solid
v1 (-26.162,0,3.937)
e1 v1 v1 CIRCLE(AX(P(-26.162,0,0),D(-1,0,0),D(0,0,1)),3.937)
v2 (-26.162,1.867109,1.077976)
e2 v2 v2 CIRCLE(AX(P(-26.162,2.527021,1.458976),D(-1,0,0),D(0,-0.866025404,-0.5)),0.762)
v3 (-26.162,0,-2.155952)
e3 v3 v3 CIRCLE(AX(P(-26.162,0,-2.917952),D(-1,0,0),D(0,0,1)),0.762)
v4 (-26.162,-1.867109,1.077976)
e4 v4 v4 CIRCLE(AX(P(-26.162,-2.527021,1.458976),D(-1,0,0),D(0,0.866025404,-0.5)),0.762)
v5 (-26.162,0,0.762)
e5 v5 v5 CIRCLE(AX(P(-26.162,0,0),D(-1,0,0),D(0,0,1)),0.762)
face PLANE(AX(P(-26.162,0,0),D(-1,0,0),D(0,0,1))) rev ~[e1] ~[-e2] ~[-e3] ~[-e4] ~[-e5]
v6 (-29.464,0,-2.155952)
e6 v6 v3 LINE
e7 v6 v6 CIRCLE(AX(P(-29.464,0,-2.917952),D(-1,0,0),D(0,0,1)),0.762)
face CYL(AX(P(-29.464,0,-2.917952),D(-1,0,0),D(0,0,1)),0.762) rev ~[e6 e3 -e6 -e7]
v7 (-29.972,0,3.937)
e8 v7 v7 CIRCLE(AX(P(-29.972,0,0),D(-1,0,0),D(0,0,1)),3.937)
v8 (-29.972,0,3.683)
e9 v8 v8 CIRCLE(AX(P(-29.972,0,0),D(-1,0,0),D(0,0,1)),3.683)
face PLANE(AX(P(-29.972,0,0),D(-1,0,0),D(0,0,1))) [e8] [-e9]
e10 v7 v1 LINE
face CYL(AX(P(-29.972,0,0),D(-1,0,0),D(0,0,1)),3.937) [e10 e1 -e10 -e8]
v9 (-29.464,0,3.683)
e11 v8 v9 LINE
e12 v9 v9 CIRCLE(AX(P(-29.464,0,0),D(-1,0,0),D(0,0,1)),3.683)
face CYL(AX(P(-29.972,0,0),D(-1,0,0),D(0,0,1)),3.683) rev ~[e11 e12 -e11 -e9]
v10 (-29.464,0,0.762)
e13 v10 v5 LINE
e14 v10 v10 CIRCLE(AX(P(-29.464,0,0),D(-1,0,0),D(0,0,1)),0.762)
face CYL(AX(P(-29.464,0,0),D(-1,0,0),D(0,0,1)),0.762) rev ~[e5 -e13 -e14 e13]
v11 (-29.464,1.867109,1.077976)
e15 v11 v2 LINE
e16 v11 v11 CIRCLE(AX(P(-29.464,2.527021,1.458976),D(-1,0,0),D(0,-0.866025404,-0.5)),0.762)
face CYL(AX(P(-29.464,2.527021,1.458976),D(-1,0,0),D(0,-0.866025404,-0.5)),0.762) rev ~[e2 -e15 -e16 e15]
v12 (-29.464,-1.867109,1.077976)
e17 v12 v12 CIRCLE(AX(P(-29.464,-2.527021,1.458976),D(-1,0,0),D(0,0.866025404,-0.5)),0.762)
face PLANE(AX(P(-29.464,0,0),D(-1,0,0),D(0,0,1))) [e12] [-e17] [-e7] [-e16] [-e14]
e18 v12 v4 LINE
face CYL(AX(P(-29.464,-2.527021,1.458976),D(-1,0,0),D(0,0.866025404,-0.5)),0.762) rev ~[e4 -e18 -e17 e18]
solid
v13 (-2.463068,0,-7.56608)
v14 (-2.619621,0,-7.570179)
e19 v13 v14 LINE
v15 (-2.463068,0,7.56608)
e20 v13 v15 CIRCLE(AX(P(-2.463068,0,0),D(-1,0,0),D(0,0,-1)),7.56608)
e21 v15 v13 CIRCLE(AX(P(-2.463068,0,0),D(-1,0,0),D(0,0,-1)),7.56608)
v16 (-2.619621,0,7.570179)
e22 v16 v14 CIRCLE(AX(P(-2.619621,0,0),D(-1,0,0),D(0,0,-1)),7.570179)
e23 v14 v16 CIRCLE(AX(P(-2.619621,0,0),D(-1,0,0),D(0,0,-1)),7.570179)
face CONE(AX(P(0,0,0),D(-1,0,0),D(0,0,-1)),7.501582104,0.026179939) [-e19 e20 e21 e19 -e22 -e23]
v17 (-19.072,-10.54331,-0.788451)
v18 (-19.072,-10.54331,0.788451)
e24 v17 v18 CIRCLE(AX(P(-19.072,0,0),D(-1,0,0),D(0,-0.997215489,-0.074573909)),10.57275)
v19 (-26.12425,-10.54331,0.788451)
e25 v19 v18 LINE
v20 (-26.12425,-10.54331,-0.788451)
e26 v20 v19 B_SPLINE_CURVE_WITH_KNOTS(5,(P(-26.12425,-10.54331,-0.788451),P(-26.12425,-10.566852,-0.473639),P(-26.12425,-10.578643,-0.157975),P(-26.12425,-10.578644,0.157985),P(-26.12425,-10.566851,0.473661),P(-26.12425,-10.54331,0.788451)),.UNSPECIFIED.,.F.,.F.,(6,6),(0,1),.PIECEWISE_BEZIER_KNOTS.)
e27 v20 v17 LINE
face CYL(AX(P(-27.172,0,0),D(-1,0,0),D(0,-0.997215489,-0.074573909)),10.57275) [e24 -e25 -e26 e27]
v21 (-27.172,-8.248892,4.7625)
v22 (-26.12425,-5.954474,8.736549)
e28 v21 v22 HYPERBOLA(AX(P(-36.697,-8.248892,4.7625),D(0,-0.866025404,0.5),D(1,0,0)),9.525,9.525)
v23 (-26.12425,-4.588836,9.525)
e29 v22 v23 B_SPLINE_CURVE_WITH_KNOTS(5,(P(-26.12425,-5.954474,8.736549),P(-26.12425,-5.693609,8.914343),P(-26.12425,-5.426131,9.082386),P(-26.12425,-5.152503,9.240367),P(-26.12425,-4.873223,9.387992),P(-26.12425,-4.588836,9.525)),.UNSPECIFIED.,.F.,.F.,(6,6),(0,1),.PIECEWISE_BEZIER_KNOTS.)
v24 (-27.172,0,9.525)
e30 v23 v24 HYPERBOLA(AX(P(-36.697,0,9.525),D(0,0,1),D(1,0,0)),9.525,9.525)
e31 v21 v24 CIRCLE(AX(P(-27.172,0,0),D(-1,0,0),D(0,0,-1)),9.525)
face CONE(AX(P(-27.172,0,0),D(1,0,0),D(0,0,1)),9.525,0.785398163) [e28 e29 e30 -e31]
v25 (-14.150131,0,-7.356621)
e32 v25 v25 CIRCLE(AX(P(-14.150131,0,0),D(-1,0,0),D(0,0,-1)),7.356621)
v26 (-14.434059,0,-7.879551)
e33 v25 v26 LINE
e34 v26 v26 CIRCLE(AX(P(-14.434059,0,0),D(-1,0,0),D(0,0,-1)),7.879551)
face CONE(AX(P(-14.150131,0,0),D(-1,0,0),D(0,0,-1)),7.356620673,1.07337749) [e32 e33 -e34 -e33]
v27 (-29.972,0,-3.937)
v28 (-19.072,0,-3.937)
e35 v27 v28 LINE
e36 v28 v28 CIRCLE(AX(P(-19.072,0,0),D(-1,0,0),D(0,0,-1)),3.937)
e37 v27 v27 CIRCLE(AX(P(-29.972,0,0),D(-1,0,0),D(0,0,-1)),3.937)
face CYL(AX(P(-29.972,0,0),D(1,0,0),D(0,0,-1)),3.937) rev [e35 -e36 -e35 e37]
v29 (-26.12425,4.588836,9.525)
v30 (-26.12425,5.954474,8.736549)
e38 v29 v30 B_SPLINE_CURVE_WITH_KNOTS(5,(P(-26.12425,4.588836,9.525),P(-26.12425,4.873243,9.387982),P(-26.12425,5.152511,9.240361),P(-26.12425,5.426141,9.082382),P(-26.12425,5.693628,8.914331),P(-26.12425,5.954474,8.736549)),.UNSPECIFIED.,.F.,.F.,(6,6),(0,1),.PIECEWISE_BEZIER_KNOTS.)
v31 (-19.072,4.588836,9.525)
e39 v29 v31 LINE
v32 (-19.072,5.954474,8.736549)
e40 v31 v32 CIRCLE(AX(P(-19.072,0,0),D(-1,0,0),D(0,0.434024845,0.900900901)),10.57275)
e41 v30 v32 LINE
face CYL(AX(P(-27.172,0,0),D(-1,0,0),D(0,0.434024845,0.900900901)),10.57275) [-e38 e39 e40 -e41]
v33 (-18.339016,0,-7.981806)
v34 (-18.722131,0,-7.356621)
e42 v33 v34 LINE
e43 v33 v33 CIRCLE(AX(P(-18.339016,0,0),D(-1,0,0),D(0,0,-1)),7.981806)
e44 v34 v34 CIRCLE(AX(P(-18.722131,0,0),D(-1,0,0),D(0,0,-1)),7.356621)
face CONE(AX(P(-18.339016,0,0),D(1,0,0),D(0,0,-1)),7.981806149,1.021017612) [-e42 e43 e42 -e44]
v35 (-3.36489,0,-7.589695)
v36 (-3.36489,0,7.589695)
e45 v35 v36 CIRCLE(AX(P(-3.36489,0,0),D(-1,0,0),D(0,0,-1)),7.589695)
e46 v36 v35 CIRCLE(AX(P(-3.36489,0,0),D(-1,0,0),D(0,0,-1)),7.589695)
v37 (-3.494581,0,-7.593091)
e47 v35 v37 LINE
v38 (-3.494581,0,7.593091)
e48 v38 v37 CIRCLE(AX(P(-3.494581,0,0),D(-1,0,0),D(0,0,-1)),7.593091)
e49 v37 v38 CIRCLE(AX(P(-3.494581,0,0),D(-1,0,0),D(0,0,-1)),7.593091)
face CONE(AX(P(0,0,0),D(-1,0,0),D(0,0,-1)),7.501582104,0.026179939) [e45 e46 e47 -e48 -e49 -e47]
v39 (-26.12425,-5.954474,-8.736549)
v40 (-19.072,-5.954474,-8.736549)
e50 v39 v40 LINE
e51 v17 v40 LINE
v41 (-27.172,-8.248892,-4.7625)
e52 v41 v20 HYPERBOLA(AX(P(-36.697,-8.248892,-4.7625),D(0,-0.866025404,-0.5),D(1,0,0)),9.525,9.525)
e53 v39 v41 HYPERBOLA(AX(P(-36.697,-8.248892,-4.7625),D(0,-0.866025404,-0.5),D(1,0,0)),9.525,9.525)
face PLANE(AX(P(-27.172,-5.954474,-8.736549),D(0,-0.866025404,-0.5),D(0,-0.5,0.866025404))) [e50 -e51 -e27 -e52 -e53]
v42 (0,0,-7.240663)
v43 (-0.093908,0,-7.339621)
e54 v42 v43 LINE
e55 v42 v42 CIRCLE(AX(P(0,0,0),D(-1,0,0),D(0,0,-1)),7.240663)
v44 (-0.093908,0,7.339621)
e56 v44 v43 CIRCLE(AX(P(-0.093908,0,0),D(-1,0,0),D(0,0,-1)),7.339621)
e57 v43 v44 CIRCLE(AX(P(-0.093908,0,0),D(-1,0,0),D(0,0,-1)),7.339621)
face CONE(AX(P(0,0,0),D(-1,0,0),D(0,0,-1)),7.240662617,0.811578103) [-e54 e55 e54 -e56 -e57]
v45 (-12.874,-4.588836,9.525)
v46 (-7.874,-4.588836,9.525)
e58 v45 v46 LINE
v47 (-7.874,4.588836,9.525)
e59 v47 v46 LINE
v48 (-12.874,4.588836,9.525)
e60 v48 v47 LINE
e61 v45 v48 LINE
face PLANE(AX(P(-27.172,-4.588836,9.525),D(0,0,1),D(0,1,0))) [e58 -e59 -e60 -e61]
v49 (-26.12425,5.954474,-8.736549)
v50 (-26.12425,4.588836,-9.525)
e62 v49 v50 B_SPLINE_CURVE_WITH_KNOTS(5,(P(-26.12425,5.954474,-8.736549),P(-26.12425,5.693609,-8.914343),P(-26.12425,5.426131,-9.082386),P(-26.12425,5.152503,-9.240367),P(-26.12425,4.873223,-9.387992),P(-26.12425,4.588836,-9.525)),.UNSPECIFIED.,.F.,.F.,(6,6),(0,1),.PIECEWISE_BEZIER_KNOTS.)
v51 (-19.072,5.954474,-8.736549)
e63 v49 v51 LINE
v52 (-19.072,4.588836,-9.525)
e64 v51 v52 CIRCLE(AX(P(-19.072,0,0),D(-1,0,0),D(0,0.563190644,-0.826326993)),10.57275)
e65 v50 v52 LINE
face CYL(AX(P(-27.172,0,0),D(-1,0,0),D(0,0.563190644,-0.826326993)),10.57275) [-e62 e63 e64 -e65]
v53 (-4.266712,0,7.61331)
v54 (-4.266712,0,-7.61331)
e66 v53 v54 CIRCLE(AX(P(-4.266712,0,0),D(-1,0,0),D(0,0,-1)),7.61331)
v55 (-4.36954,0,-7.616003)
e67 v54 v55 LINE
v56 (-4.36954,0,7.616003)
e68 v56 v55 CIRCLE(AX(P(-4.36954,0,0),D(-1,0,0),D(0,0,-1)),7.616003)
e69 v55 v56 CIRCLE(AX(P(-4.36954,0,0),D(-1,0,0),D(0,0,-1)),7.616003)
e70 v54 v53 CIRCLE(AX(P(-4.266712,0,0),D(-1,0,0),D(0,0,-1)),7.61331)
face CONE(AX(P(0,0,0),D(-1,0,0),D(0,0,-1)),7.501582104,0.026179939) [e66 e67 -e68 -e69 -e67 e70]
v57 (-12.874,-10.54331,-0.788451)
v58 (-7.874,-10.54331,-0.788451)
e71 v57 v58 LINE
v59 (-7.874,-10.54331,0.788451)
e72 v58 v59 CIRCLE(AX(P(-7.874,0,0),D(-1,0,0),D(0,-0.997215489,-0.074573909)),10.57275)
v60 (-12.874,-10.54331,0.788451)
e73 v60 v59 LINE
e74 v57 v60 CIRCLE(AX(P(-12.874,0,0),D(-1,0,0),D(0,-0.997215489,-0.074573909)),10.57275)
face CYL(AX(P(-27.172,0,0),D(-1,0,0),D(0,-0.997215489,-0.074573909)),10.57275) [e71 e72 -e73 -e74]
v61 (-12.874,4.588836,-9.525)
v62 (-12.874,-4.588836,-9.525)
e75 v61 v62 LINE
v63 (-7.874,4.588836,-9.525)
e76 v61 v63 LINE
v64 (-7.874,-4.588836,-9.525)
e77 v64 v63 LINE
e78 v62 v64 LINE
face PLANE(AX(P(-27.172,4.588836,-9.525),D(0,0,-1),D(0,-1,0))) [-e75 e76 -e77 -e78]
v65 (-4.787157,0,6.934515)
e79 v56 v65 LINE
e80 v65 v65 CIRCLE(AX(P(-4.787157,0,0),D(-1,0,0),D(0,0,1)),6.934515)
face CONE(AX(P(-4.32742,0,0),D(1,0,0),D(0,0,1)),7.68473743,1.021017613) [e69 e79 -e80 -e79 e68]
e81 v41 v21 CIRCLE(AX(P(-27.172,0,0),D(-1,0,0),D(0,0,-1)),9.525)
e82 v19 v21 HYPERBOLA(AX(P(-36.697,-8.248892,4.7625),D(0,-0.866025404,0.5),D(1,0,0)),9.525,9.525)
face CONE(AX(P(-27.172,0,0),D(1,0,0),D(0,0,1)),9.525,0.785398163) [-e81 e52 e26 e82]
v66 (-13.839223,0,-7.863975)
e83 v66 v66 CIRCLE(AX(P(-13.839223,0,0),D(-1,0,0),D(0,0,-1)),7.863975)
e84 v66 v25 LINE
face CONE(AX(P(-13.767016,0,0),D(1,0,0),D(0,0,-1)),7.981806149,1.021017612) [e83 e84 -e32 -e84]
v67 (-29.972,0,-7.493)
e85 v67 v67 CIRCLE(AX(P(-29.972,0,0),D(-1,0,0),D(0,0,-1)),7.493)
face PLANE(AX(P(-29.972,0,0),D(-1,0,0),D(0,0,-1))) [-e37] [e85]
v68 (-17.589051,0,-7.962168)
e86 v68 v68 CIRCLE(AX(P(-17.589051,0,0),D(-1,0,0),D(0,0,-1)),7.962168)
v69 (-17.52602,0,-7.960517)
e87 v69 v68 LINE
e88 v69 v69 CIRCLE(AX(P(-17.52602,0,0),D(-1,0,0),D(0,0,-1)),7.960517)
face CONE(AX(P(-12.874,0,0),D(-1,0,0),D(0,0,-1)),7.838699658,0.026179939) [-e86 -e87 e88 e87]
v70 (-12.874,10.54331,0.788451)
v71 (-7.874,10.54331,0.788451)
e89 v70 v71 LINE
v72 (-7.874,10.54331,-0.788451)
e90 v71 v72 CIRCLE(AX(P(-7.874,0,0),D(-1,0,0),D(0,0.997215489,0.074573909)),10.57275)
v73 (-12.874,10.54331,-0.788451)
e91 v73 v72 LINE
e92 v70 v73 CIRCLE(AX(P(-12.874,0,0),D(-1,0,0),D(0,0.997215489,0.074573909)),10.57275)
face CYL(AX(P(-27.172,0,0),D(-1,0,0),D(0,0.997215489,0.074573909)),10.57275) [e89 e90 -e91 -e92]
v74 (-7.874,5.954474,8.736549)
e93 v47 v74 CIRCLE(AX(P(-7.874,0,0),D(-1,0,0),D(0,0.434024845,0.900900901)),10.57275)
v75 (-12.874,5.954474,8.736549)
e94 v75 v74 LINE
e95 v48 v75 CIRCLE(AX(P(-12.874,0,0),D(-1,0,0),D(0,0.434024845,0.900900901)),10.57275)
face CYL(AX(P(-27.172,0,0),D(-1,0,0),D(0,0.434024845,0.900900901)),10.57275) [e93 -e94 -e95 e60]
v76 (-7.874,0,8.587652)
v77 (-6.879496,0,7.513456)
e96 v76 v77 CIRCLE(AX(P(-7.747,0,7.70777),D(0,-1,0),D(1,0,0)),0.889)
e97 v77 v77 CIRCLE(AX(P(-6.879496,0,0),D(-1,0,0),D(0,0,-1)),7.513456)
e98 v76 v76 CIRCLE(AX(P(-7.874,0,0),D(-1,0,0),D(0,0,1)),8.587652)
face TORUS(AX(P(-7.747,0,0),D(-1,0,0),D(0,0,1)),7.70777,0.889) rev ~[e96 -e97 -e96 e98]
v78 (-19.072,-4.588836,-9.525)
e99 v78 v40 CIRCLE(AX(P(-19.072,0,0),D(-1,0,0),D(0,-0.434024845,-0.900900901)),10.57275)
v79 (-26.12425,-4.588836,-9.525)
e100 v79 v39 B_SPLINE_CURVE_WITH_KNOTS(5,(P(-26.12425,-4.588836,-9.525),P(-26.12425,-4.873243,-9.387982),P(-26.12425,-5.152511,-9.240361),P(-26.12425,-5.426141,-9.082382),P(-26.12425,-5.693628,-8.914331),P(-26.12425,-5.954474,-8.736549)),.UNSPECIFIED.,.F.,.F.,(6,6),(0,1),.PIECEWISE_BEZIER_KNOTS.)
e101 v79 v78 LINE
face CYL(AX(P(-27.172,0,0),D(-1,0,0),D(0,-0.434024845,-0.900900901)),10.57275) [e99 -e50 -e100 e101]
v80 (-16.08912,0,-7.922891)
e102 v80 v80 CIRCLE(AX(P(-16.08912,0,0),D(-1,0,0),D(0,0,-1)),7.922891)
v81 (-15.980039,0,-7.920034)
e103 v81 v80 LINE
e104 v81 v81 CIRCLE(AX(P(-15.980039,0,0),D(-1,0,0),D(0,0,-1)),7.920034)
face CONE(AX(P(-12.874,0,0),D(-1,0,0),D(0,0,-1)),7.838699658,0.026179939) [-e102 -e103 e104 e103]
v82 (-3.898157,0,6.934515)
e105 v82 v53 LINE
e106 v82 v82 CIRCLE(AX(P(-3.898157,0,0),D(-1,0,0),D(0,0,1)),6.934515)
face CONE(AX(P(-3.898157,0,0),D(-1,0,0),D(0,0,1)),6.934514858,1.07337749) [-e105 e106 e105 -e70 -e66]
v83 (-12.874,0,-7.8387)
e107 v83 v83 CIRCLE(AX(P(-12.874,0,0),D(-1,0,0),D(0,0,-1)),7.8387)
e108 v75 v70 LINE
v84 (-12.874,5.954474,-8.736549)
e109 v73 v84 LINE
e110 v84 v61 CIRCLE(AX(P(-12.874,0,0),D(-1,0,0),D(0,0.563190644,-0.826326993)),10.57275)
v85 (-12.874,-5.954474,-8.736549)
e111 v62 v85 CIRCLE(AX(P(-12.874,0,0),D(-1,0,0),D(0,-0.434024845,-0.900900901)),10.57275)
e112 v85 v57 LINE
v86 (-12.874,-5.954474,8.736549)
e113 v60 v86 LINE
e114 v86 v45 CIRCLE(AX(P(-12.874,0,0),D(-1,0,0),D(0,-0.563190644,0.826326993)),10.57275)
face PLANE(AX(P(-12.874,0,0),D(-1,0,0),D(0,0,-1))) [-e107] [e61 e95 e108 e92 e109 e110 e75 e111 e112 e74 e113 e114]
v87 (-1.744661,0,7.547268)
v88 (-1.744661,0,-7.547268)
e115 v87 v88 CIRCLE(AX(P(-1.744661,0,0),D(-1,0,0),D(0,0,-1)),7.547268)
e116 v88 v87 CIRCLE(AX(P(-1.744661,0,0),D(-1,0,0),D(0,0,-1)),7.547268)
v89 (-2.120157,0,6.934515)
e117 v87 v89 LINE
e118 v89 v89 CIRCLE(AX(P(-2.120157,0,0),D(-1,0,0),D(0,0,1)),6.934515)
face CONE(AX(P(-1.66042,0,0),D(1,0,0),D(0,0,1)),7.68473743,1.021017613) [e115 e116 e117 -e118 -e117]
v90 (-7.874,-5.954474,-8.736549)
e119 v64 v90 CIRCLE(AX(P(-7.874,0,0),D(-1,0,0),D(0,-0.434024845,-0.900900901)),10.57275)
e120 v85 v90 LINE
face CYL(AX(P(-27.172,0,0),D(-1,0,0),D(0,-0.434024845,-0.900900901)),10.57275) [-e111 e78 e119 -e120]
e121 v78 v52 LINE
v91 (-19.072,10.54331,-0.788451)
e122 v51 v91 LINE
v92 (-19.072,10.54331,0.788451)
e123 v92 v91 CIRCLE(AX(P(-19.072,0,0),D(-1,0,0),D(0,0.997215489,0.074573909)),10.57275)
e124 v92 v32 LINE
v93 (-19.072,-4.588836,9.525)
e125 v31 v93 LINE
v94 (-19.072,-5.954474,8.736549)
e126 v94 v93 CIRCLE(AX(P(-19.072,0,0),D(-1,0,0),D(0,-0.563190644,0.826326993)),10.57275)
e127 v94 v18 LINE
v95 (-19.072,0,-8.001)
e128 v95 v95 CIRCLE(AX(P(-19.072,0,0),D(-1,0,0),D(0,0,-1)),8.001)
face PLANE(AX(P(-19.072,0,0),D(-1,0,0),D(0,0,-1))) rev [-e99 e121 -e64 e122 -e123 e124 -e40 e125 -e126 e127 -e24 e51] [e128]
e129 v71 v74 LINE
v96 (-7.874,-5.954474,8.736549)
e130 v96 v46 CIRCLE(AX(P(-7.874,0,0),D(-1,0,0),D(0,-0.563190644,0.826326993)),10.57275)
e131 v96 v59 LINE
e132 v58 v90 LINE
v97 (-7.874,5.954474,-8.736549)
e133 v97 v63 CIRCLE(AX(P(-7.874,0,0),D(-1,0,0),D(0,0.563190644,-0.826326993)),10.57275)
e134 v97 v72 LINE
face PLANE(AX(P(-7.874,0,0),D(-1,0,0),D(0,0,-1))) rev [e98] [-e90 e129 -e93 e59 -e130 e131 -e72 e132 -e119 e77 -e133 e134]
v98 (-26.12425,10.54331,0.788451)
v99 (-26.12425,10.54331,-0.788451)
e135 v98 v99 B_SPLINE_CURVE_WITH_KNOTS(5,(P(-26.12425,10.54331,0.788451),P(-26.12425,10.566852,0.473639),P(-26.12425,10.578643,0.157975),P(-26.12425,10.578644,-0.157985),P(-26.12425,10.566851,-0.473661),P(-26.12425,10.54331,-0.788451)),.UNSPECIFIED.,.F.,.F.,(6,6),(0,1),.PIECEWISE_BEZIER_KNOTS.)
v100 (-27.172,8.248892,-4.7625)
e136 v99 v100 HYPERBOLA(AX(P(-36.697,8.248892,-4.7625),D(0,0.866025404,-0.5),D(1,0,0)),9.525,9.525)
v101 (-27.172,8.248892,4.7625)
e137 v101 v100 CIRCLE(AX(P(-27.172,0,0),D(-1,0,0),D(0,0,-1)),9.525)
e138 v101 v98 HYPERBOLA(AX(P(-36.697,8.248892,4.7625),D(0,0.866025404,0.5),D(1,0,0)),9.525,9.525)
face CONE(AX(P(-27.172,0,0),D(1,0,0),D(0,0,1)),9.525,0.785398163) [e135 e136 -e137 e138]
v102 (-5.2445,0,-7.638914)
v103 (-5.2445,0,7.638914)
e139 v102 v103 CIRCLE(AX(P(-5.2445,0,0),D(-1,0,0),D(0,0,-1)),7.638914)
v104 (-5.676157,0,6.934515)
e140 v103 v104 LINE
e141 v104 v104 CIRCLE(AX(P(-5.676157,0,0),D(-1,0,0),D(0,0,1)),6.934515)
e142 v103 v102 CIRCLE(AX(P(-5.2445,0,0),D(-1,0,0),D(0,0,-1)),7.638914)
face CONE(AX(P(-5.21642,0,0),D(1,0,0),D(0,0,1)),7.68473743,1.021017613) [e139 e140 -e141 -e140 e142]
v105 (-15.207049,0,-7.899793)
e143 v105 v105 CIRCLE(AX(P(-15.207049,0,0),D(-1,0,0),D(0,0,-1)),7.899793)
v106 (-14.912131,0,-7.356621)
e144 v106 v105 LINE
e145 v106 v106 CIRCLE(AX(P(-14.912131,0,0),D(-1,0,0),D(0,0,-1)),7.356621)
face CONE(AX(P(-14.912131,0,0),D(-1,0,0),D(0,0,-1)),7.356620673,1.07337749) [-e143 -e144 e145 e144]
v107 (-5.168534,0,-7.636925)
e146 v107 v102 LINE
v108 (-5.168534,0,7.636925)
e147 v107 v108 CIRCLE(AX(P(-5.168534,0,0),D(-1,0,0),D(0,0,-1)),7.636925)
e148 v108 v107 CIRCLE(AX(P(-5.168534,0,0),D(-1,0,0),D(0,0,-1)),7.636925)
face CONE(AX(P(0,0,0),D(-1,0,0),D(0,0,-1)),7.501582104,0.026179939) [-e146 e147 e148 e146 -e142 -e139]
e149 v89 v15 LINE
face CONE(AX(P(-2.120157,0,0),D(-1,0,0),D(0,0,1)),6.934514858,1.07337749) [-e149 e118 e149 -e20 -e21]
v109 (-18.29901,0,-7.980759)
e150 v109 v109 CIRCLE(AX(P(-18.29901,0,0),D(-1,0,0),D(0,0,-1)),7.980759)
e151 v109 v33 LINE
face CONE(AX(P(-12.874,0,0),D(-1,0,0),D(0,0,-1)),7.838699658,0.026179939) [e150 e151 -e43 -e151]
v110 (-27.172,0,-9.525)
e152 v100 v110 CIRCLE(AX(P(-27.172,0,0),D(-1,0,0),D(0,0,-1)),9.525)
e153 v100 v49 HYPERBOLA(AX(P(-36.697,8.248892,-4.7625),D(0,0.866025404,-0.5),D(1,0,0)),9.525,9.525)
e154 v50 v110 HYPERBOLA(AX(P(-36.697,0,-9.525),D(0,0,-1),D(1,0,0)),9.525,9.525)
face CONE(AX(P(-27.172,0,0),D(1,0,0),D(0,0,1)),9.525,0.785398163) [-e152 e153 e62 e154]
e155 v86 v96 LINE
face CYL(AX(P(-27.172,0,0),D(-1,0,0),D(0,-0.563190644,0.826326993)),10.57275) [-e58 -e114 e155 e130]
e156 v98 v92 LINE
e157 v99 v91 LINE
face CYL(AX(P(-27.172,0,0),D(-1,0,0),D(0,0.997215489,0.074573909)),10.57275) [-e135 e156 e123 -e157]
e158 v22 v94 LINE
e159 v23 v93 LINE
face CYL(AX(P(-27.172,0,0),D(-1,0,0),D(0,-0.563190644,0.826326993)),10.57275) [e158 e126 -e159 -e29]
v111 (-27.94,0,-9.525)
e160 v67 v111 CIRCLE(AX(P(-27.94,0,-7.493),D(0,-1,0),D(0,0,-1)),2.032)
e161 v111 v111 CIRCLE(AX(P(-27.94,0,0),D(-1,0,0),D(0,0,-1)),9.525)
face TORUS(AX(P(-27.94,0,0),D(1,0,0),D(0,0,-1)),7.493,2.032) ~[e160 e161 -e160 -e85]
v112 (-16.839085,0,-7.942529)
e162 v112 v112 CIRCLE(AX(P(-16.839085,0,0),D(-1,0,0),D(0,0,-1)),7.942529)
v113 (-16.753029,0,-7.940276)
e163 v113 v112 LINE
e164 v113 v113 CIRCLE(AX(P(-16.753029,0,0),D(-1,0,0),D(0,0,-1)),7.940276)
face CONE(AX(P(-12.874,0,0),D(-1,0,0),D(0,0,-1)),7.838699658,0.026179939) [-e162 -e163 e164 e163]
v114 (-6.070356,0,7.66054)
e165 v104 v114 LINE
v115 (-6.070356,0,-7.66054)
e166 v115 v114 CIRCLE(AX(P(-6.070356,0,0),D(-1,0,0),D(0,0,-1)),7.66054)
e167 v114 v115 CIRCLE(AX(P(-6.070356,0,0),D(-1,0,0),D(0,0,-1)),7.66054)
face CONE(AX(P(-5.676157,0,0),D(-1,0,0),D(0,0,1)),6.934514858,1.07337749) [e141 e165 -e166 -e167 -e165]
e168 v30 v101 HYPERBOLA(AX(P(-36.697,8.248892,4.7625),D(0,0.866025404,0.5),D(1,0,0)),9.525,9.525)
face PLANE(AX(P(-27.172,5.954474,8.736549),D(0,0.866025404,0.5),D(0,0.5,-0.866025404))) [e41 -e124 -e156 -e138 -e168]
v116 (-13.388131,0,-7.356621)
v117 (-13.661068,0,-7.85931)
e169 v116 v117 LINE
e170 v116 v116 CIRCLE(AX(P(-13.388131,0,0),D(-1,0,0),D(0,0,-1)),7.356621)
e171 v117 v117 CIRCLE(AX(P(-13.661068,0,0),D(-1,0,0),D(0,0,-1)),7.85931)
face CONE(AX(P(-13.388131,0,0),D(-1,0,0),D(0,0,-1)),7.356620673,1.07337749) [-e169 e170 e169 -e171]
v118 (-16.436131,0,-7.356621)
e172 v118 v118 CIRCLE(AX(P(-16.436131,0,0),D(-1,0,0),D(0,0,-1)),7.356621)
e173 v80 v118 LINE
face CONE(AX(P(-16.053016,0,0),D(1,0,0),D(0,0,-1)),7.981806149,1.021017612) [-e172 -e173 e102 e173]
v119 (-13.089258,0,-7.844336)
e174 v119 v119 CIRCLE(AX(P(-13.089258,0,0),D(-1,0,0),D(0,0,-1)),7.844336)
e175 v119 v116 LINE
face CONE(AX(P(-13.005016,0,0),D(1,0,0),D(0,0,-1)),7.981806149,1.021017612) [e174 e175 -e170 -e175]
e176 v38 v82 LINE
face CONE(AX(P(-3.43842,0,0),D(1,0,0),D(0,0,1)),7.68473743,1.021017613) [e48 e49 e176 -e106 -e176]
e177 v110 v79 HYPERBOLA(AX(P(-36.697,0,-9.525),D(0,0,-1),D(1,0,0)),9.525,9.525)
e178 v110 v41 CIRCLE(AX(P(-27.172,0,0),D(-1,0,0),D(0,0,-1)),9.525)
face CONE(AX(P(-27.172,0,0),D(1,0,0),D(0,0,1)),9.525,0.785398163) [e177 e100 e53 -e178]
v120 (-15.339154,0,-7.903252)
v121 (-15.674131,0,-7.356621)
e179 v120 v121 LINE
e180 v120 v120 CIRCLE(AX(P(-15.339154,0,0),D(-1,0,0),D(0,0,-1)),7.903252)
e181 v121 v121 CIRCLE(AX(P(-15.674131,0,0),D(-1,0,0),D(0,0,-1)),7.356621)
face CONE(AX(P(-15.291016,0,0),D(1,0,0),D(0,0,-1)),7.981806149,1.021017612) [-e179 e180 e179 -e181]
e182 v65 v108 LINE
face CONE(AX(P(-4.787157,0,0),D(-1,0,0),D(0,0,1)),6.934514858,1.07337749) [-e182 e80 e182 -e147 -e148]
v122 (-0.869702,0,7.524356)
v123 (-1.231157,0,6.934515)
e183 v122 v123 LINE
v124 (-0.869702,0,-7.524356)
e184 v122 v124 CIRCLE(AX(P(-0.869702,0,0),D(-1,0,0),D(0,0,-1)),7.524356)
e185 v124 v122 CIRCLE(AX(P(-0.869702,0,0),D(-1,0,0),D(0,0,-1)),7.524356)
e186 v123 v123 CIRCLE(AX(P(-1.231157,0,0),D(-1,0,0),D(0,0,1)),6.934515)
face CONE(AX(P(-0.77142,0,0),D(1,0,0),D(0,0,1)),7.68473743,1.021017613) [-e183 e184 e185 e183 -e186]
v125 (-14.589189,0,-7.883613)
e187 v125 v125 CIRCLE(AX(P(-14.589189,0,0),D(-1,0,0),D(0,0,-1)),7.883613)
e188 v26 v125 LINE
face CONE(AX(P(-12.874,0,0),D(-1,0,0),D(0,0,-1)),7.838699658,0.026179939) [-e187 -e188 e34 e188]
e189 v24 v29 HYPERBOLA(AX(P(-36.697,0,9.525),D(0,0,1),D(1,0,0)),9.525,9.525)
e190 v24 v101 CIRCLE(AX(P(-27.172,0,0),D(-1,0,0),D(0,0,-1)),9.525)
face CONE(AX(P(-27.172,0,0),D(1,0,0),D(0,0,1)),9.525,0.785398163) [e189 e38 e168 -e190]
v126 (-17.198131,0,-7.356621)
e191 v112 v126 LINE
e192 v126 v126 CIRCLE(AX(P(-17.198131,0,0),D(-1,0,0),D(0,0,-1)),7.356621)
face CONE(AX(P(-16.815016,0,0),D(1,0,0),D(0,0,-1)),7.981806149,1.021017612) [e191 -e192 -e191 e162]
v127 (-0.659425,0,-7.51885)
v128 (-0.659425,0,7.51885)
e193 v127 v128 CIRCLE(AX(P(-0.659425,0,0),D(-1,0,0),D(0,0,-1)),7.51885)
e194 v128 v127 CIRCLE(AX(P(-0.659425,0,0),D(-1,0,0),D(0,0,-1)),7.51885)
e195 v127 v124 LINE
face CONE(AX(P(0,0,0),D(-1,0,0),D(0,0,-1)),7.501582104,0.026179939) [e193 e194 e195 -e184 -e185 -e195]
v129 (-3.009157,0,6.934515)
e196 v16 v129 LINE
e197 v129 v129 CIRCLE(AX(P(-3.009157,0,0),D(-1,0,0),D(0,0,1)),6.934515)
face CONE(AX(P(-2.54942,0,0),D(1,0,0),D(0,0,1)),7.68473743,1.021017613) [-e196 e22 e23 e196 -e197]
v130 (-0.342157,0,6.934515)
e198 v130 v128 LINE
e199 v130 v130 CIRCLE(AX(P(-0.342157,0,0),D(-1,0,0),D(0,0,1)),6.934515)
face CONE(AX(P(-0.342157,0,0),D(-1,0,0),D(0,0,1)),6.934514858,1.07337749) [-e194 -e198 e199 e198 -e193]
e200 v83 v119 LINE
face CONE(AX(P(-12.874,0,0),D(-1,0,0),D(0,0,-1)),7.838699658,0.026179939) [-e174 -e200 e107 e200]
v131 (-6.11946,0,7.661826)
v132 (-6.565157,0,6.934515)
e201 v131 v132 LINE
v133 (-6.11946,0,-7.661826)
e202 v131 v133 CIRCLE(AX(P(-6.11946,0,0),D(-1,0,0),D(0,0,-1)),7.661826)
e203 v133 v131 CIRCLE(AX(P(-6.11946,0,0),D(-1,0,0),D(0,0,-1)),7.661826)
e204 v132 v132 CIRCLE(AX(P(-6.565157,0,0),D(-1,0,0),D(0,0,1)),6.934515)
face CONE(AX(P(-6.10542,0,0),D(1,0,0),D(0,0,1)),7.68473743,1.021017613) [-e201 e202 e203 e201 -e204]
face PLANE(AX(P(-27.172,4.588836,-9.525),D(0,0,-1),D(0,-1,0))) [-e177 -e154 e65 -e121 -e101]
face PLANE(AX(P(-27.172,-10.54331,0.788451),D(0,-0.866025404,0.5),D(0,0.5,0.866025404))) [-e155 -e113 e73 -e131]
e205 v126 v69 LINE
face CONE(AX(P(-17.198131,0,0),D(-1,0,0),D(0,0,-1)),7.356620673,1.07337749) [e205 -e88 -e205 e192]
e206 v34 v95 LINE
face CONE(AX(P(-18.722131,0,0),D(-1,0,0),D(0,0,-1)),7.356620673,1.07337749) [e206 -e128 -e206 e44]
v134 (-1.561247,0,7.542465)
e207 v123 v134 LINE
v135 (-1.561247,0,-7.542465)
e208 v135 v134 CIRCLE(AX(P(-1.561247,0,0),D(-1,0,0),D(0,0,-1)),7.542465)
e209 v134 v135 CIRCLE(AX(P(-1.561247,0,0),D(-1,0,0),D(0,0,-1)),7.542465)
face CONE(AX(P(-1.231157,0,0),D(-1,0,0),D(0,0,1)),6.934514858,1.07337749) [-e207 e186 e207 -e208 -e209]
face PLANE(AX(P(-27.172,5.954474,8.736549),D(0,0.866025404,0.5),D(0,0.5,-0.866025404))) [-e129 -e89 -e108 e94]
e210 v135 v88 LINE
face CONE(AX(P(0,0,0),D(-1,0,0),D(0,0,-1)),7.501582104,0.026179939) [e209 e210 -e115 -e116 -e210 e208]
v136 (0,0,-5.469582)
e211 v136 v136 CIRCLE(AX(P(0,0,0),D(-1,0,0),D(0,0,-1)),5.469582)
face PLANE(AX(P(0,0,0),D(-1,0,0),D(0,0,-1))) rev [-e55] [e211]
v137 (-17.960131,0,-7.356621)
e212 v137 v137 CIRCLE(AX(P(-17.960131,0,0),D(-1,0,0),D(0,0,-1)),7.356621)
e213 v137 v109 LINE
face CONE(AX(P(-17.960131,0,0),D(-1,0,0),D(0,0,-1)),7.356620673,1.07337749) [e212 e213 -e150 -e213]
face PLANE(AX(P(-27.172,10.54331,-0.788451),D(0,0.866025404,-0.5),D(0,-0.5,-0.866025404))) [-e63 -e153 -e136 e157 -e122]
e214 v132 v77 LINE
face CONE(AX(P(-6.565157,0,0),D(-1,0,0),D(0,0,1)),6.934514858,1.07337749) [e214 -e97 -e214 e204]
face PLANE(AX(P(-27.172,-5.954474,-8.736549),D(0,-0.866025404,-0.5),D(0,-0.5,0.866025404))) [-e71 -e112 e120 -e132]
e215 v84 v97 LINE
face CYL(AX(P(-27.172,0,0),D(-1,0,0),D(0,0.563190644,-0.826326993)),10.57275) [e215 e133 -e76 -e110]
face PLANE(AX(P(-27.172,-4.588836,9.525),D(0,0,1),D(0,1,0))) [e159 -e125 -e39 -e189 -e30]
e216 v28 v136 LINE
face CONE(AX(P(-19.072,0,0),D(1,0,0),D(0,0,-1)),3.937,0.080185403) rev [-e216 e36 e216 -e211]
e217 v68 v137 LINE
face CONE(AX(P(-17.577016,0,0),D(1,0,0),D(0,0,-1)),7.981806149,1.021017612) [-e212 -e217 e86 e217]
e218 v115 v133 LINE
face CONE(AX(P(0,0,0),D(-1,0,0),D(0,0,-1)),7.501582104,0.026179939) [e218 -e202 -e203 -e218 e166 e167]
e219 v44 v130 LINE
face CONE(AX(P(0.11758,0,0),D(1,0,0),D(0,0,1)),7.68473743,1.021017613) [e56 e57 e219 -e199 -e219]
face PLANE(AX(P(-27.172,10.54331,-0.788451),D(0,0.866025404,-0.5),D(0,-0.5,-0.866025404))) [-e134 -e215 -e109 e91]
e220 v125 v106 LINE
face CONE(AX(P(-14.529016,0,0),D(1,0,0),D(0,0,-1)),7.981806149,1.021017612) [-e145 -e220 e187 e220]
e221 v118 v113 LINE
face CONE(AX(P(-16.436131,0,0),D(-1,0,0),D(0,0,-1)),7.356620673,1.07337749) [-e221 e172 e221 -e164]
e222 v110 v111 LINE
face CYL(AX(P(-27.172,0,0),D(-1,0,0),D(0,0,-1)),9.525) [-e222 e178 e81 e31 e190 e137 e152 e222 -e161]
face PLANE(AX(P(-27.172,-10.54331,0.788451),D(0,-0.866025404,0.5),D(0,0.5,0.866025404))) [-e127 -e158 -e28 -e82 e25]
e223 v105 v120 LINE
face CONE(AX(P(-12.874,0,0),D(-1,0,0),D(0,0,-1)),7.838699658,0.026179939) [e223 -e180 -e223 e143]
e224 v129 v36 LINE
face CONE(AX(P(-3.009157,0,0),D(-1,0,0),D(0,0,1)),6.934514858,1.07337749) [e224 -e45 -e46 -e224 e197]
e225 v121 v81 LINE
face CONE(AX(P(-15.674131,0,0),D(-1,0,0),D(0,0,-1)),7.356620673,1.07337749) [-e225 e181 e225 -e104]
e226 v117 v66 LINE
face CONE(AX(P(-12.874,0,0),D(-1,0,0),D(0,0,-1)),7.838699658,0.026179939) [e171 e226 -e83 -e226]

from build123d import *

# Parameters (mm, degrees)
SKETCH12_OUTSIDE_W = 52.432
SKETCH12_OUTSIDE_H = 52.432
CUT_EXTRUDE2_DEPTH = 28.172
FILLET4_R          = 2.032
SKETCH19_OUTSIDE_W = 33.316
SKETCH19_OUTSIDE_H = 35.412
SKETCH19_OUTSIDE_R = 9.525
CUT_EXTRUDE3_DEPTH = 1.999996
CUT_EXTRUDE3_DRAFT = -45
CHAMFER1_SIZE      = 0.260919487
CHAMFER1_SIZE2     = 0.254
SKETCH21_R         = 3.937
PLUG_DEPTH         = 3.81
SKETCH22_R         = 3.683
CUT_EXTRUDE4_DEPTH = 0.508
SKETCH27_R         = 0.762
PLUGHOLES_DEPTH    = 30.464
CIRPATTERN1_COUNT  = 3
SKETCH28_R         = 0.762
MIDHOLE_DEPTH      = 30.464
LPATTERN1_COUNT    = 8
LPATTERN1_PITCH    = 0.762
LPATTERN2_COUNT    = 9
LPATTERN2_PITCH    = 0.889
SKETCH32_R         = 0.889


with BuildPart() as part:
    # Sketch10 → Revolve2 (revolve)
    with BuildSketch(Plane.XY, mode=Mode.PRIVATE) as revolve2_sk:
        Polygon((-29.972, 3.937), (-19.072, 3.937), (0, 5.469582104), (0, 7.501582104), (-7.874, 7.70777005), (-7.874, 19.05), (-12.874, 19.05), (-12.874, 7.838699658), (-19.072, 8.001), (-19.072, 19.05), (-27.172, 19.05), (-27.172, 9.525), (-29.972, 9.525), align=None)
    revolve(revolve2_sk.sketch.rotate(Axis((0, 0, 0), (-1, 0, 0)), 90), axis=Axis((0, 0, 0), (-1, 0, 0)))  # turned: the seam where the file's is

    # Sketch12 outside → Cut-Extrude2 (cut, through all)
    with BuildSketch(Plane.ZY.offset(27.172)):
        Rectangle(SKETCH12_OUTSIDE_W, SKETCH12_OUTSIDE_H)
        with BuildLine():
            Line((-0.788451287, 10.543310065), (-8.736548713, 5.954473877))
            ThreePointArc((-8.736548713, 5.954473877), (-9.156270088, 5.286375), (-9.525, 4.588836188))
            Line((-9.525, 4.588836188), (-9.525, -4.588836188))
            ThreePointArc((-9.525, -4.588836188), (-9.156270088, -5.286375), (-8.736548713, -5.954473877))
            Line((-8.736548713, -5.954473877), (-0.788451287, -10.543310065))
            ThreePointArc((-0.788451287, -10.543310065), (0, -10.57275), (0.788451287, -10.543310065))
            Line((0.788451287, -10.543310065), (8.736548713, -5.954473877))
            ThreePointArc((8.736548713, -5.954473877), (9.156270088, -5.286375), (9.525, -4.588836188))
            Line((9.525, -4.588836188), (9.525, 4.588836188))
            ThreePointArc((9.525, 4.588836188), (9.156270088, 5.286375), (8.736548713, 5.954473877))
            Line((8.736548713, 5.954473877), (0.788451287, 10.543310065))
            ThreePointArc((0.788451287, 10.543310065), (0, 10.57275), (-0.788451287, 10.543310065))
        make_face(mode=Mode.SUBTRACT)
    extrude(amount=-CUT_EXTRUDE2_DEPTH, mode=Mode.SUBTRACT)

    # Fillet4
    fillet4_edges = [part.edges().sort_by_distance(p)[0] for p in [
        (-29.972, 0, 9.525),
    ]]
    fillet(fillet4_edges, radius=FILLET4_R)


with BuildPart() as cut_extrude3_tool:
    # Sketch19 outside → Cut-Extrude3 (with draft: the straight prism first)
    with BuildSketch(Plane.ZY.offset(27.172)):
        Rectangle(SKETCH19_OUTSIDE_W, SKETCH19_OUTSIDE_H)
        Circle(SKETCH19_OUTSIDE_R, mode=Mode.SUBTRACT)
    extrude(amount=-CUT_EXTRUDE3_DEPTH)
    # Cut-Extrude3: the draft: its side faces are tilted about the plane it starts from
    cut_extrude3_sides = [cut_extrude3_tool.faces().sort_by_distance(p)[0] for p in [
        (-26.172002, -17.706, 0),
        (-26.172002, 0, 16.658),
        (-26.172002, 17.706, 0),
        (-26.172002, 0, -16.658),
        (-26.172002, 0, -9.525),
    ]]
    draft(cut_extrude3_sides, Plane.ZY.offset(27.172), CUT_EXTRUDE3_DRAFT)


with BuildPart() as part_1:
    add(part.part)

    # Cut-Extrude3: cut by cut_extrude3_tool
    add(cut_extrude3_tool.part, mode=Mode.SUBTRACT)

    # Chamfer1
    chamfer1_edges = [part_1.edges().sort_by_distance(p)[0] for p in [
        (0, 0, 7.501582104),
    ]]
    chamfer1_side = [part_1.faces().sort_by_distance(p)[0] for p in [
        (0, 0, 5.681758887),
    ]]
    chamfer(chamfer1_edges, length=CHAMFER1_SIZE, length2=CHAMFER1_SIZE2, reference=chamfer1_side[0])

    # Sketch29 → Cut-Revolve1 (revolve, cut)
    with BuildSketch(Plane.XY, mode=Mode.PRIVATE) as cut_revolve1_sk:
        Polygon((-19.072, 8.001), (-18.339016419, 7.981806149), (-18.722130572, 7.356620673), align=None)
    cut_revolve1 = revolve(cut_revolve1_sk.sketch.rotate(Axis((0, 0, 0), (-1, 0, 0)), 90), axis=Axis((0, 0, 0), (-1, 0, 0)), mode=Mode.SUBTRACT)  # turned: the seam where the file's is

    # LPattern1: Cut-Revolve1 ×8
    with Locations(*[(i * LPATTERN1_PITCH, 0, 0) for i in range(1, LPATTERN1_COUNT)]):
        add(cut_revolve1, mode=Mode.SUBTRACT)

    # Sketch30 → Cut-Revolve2 (revolve, cut)
    with BuildSketch(Plane.XY, mode=Mode.PRIVATE) as cut_revolve2_sk:
        Polygon((-7.874, 7.70777005), (-6.994419703, 7.68473743), (-7.454156686, 6.934514858), align=None)
    cut_revolve2 = revolve(cut_revolve2_sk.sketch.rotate(Axis((0, 0, 0), (-1, 0, 0)), 270), axis=Axis((0, 0, 0), (-1, 0, 0)), mode=Mode.SUBTRACT)  # turned: the seam where the file's is

    # LPattern2: Cut-Revolve2 ×9
    with Locations(*[(i * LPATTERN2_PITCH, 0, 0) for i in range(1, LPATTERN2_COUNT)]):
        add(cut_revolve2, mode=Mode.SUBTRACT)

    # Sketch32 → Cut-Revolve3 (revolve, cut)
    with BuildSketch(Plane.XY, mode=Mode.PRIVATE) as cut_revolve3_sk:
        with Locations((-7.747, 7.70777005)):
            Circle(SKETCH32_R)
    revolve(cut_revolve3_sk.sketch.rotate(Axis((0, 0, 0), (-1, 0, 0)), 270), axis=Axis((0, 0, 0), (-1, 0, 0)), mode=Mode.SUBTRACT)  # turned: the seam where the file's is


with BuildPart() as body_2:
    # Sketch21 → plug (new body)
    with BuildSketch(Plane.ZY.offset(29.972)):
        Circle(SKETCH21_R)
    extrude(amount=-PLUG_DEPTH)

    # Sketch22 → Cut-Extrude4 (cut)
    with BuildSketch(Plane.ZY.offset(29.972)):
        Circle(SKETCH22_R)
    extrude(amount=-CUT_EXTRUDE4_DEPTH, mode=Mode.SUBTRACT)

    # Sketch27 → plugholes (cut, through all)
    with BuildSketch(Plane.ZY.offset(29.464)):
        with Locations((-2.917952, 0)):
            Circle(SKETCH27_R)
    plugholes = extrude(amount=-PLUGHOLES_DEPTH, mode=Mode.SUBTRACT)

    # CirPattern1: plugholes ×3 about axis
    cirpattern1_axis = Axis((0, 0, 0), (1, 0, 0))
    for i in range(1, CIRPATTERN1_COUNT):
        add(plugholes.rotate(cirpattern1_axis, i * 360 / CIRPATTERN1_COUNT), mode=Mode.SUBTRACT)

    # Sketch28 → midhole (cut, through all)
    with BuildSketch(Plane.ZY.offset(29.464)):
        Circle(SKETCH28_R)
    extrude(amount=-MIDHOLE_DEPTH, mode=Mode.SUBTRACT)


solid = Compound([part_1.part, body_2.part])
